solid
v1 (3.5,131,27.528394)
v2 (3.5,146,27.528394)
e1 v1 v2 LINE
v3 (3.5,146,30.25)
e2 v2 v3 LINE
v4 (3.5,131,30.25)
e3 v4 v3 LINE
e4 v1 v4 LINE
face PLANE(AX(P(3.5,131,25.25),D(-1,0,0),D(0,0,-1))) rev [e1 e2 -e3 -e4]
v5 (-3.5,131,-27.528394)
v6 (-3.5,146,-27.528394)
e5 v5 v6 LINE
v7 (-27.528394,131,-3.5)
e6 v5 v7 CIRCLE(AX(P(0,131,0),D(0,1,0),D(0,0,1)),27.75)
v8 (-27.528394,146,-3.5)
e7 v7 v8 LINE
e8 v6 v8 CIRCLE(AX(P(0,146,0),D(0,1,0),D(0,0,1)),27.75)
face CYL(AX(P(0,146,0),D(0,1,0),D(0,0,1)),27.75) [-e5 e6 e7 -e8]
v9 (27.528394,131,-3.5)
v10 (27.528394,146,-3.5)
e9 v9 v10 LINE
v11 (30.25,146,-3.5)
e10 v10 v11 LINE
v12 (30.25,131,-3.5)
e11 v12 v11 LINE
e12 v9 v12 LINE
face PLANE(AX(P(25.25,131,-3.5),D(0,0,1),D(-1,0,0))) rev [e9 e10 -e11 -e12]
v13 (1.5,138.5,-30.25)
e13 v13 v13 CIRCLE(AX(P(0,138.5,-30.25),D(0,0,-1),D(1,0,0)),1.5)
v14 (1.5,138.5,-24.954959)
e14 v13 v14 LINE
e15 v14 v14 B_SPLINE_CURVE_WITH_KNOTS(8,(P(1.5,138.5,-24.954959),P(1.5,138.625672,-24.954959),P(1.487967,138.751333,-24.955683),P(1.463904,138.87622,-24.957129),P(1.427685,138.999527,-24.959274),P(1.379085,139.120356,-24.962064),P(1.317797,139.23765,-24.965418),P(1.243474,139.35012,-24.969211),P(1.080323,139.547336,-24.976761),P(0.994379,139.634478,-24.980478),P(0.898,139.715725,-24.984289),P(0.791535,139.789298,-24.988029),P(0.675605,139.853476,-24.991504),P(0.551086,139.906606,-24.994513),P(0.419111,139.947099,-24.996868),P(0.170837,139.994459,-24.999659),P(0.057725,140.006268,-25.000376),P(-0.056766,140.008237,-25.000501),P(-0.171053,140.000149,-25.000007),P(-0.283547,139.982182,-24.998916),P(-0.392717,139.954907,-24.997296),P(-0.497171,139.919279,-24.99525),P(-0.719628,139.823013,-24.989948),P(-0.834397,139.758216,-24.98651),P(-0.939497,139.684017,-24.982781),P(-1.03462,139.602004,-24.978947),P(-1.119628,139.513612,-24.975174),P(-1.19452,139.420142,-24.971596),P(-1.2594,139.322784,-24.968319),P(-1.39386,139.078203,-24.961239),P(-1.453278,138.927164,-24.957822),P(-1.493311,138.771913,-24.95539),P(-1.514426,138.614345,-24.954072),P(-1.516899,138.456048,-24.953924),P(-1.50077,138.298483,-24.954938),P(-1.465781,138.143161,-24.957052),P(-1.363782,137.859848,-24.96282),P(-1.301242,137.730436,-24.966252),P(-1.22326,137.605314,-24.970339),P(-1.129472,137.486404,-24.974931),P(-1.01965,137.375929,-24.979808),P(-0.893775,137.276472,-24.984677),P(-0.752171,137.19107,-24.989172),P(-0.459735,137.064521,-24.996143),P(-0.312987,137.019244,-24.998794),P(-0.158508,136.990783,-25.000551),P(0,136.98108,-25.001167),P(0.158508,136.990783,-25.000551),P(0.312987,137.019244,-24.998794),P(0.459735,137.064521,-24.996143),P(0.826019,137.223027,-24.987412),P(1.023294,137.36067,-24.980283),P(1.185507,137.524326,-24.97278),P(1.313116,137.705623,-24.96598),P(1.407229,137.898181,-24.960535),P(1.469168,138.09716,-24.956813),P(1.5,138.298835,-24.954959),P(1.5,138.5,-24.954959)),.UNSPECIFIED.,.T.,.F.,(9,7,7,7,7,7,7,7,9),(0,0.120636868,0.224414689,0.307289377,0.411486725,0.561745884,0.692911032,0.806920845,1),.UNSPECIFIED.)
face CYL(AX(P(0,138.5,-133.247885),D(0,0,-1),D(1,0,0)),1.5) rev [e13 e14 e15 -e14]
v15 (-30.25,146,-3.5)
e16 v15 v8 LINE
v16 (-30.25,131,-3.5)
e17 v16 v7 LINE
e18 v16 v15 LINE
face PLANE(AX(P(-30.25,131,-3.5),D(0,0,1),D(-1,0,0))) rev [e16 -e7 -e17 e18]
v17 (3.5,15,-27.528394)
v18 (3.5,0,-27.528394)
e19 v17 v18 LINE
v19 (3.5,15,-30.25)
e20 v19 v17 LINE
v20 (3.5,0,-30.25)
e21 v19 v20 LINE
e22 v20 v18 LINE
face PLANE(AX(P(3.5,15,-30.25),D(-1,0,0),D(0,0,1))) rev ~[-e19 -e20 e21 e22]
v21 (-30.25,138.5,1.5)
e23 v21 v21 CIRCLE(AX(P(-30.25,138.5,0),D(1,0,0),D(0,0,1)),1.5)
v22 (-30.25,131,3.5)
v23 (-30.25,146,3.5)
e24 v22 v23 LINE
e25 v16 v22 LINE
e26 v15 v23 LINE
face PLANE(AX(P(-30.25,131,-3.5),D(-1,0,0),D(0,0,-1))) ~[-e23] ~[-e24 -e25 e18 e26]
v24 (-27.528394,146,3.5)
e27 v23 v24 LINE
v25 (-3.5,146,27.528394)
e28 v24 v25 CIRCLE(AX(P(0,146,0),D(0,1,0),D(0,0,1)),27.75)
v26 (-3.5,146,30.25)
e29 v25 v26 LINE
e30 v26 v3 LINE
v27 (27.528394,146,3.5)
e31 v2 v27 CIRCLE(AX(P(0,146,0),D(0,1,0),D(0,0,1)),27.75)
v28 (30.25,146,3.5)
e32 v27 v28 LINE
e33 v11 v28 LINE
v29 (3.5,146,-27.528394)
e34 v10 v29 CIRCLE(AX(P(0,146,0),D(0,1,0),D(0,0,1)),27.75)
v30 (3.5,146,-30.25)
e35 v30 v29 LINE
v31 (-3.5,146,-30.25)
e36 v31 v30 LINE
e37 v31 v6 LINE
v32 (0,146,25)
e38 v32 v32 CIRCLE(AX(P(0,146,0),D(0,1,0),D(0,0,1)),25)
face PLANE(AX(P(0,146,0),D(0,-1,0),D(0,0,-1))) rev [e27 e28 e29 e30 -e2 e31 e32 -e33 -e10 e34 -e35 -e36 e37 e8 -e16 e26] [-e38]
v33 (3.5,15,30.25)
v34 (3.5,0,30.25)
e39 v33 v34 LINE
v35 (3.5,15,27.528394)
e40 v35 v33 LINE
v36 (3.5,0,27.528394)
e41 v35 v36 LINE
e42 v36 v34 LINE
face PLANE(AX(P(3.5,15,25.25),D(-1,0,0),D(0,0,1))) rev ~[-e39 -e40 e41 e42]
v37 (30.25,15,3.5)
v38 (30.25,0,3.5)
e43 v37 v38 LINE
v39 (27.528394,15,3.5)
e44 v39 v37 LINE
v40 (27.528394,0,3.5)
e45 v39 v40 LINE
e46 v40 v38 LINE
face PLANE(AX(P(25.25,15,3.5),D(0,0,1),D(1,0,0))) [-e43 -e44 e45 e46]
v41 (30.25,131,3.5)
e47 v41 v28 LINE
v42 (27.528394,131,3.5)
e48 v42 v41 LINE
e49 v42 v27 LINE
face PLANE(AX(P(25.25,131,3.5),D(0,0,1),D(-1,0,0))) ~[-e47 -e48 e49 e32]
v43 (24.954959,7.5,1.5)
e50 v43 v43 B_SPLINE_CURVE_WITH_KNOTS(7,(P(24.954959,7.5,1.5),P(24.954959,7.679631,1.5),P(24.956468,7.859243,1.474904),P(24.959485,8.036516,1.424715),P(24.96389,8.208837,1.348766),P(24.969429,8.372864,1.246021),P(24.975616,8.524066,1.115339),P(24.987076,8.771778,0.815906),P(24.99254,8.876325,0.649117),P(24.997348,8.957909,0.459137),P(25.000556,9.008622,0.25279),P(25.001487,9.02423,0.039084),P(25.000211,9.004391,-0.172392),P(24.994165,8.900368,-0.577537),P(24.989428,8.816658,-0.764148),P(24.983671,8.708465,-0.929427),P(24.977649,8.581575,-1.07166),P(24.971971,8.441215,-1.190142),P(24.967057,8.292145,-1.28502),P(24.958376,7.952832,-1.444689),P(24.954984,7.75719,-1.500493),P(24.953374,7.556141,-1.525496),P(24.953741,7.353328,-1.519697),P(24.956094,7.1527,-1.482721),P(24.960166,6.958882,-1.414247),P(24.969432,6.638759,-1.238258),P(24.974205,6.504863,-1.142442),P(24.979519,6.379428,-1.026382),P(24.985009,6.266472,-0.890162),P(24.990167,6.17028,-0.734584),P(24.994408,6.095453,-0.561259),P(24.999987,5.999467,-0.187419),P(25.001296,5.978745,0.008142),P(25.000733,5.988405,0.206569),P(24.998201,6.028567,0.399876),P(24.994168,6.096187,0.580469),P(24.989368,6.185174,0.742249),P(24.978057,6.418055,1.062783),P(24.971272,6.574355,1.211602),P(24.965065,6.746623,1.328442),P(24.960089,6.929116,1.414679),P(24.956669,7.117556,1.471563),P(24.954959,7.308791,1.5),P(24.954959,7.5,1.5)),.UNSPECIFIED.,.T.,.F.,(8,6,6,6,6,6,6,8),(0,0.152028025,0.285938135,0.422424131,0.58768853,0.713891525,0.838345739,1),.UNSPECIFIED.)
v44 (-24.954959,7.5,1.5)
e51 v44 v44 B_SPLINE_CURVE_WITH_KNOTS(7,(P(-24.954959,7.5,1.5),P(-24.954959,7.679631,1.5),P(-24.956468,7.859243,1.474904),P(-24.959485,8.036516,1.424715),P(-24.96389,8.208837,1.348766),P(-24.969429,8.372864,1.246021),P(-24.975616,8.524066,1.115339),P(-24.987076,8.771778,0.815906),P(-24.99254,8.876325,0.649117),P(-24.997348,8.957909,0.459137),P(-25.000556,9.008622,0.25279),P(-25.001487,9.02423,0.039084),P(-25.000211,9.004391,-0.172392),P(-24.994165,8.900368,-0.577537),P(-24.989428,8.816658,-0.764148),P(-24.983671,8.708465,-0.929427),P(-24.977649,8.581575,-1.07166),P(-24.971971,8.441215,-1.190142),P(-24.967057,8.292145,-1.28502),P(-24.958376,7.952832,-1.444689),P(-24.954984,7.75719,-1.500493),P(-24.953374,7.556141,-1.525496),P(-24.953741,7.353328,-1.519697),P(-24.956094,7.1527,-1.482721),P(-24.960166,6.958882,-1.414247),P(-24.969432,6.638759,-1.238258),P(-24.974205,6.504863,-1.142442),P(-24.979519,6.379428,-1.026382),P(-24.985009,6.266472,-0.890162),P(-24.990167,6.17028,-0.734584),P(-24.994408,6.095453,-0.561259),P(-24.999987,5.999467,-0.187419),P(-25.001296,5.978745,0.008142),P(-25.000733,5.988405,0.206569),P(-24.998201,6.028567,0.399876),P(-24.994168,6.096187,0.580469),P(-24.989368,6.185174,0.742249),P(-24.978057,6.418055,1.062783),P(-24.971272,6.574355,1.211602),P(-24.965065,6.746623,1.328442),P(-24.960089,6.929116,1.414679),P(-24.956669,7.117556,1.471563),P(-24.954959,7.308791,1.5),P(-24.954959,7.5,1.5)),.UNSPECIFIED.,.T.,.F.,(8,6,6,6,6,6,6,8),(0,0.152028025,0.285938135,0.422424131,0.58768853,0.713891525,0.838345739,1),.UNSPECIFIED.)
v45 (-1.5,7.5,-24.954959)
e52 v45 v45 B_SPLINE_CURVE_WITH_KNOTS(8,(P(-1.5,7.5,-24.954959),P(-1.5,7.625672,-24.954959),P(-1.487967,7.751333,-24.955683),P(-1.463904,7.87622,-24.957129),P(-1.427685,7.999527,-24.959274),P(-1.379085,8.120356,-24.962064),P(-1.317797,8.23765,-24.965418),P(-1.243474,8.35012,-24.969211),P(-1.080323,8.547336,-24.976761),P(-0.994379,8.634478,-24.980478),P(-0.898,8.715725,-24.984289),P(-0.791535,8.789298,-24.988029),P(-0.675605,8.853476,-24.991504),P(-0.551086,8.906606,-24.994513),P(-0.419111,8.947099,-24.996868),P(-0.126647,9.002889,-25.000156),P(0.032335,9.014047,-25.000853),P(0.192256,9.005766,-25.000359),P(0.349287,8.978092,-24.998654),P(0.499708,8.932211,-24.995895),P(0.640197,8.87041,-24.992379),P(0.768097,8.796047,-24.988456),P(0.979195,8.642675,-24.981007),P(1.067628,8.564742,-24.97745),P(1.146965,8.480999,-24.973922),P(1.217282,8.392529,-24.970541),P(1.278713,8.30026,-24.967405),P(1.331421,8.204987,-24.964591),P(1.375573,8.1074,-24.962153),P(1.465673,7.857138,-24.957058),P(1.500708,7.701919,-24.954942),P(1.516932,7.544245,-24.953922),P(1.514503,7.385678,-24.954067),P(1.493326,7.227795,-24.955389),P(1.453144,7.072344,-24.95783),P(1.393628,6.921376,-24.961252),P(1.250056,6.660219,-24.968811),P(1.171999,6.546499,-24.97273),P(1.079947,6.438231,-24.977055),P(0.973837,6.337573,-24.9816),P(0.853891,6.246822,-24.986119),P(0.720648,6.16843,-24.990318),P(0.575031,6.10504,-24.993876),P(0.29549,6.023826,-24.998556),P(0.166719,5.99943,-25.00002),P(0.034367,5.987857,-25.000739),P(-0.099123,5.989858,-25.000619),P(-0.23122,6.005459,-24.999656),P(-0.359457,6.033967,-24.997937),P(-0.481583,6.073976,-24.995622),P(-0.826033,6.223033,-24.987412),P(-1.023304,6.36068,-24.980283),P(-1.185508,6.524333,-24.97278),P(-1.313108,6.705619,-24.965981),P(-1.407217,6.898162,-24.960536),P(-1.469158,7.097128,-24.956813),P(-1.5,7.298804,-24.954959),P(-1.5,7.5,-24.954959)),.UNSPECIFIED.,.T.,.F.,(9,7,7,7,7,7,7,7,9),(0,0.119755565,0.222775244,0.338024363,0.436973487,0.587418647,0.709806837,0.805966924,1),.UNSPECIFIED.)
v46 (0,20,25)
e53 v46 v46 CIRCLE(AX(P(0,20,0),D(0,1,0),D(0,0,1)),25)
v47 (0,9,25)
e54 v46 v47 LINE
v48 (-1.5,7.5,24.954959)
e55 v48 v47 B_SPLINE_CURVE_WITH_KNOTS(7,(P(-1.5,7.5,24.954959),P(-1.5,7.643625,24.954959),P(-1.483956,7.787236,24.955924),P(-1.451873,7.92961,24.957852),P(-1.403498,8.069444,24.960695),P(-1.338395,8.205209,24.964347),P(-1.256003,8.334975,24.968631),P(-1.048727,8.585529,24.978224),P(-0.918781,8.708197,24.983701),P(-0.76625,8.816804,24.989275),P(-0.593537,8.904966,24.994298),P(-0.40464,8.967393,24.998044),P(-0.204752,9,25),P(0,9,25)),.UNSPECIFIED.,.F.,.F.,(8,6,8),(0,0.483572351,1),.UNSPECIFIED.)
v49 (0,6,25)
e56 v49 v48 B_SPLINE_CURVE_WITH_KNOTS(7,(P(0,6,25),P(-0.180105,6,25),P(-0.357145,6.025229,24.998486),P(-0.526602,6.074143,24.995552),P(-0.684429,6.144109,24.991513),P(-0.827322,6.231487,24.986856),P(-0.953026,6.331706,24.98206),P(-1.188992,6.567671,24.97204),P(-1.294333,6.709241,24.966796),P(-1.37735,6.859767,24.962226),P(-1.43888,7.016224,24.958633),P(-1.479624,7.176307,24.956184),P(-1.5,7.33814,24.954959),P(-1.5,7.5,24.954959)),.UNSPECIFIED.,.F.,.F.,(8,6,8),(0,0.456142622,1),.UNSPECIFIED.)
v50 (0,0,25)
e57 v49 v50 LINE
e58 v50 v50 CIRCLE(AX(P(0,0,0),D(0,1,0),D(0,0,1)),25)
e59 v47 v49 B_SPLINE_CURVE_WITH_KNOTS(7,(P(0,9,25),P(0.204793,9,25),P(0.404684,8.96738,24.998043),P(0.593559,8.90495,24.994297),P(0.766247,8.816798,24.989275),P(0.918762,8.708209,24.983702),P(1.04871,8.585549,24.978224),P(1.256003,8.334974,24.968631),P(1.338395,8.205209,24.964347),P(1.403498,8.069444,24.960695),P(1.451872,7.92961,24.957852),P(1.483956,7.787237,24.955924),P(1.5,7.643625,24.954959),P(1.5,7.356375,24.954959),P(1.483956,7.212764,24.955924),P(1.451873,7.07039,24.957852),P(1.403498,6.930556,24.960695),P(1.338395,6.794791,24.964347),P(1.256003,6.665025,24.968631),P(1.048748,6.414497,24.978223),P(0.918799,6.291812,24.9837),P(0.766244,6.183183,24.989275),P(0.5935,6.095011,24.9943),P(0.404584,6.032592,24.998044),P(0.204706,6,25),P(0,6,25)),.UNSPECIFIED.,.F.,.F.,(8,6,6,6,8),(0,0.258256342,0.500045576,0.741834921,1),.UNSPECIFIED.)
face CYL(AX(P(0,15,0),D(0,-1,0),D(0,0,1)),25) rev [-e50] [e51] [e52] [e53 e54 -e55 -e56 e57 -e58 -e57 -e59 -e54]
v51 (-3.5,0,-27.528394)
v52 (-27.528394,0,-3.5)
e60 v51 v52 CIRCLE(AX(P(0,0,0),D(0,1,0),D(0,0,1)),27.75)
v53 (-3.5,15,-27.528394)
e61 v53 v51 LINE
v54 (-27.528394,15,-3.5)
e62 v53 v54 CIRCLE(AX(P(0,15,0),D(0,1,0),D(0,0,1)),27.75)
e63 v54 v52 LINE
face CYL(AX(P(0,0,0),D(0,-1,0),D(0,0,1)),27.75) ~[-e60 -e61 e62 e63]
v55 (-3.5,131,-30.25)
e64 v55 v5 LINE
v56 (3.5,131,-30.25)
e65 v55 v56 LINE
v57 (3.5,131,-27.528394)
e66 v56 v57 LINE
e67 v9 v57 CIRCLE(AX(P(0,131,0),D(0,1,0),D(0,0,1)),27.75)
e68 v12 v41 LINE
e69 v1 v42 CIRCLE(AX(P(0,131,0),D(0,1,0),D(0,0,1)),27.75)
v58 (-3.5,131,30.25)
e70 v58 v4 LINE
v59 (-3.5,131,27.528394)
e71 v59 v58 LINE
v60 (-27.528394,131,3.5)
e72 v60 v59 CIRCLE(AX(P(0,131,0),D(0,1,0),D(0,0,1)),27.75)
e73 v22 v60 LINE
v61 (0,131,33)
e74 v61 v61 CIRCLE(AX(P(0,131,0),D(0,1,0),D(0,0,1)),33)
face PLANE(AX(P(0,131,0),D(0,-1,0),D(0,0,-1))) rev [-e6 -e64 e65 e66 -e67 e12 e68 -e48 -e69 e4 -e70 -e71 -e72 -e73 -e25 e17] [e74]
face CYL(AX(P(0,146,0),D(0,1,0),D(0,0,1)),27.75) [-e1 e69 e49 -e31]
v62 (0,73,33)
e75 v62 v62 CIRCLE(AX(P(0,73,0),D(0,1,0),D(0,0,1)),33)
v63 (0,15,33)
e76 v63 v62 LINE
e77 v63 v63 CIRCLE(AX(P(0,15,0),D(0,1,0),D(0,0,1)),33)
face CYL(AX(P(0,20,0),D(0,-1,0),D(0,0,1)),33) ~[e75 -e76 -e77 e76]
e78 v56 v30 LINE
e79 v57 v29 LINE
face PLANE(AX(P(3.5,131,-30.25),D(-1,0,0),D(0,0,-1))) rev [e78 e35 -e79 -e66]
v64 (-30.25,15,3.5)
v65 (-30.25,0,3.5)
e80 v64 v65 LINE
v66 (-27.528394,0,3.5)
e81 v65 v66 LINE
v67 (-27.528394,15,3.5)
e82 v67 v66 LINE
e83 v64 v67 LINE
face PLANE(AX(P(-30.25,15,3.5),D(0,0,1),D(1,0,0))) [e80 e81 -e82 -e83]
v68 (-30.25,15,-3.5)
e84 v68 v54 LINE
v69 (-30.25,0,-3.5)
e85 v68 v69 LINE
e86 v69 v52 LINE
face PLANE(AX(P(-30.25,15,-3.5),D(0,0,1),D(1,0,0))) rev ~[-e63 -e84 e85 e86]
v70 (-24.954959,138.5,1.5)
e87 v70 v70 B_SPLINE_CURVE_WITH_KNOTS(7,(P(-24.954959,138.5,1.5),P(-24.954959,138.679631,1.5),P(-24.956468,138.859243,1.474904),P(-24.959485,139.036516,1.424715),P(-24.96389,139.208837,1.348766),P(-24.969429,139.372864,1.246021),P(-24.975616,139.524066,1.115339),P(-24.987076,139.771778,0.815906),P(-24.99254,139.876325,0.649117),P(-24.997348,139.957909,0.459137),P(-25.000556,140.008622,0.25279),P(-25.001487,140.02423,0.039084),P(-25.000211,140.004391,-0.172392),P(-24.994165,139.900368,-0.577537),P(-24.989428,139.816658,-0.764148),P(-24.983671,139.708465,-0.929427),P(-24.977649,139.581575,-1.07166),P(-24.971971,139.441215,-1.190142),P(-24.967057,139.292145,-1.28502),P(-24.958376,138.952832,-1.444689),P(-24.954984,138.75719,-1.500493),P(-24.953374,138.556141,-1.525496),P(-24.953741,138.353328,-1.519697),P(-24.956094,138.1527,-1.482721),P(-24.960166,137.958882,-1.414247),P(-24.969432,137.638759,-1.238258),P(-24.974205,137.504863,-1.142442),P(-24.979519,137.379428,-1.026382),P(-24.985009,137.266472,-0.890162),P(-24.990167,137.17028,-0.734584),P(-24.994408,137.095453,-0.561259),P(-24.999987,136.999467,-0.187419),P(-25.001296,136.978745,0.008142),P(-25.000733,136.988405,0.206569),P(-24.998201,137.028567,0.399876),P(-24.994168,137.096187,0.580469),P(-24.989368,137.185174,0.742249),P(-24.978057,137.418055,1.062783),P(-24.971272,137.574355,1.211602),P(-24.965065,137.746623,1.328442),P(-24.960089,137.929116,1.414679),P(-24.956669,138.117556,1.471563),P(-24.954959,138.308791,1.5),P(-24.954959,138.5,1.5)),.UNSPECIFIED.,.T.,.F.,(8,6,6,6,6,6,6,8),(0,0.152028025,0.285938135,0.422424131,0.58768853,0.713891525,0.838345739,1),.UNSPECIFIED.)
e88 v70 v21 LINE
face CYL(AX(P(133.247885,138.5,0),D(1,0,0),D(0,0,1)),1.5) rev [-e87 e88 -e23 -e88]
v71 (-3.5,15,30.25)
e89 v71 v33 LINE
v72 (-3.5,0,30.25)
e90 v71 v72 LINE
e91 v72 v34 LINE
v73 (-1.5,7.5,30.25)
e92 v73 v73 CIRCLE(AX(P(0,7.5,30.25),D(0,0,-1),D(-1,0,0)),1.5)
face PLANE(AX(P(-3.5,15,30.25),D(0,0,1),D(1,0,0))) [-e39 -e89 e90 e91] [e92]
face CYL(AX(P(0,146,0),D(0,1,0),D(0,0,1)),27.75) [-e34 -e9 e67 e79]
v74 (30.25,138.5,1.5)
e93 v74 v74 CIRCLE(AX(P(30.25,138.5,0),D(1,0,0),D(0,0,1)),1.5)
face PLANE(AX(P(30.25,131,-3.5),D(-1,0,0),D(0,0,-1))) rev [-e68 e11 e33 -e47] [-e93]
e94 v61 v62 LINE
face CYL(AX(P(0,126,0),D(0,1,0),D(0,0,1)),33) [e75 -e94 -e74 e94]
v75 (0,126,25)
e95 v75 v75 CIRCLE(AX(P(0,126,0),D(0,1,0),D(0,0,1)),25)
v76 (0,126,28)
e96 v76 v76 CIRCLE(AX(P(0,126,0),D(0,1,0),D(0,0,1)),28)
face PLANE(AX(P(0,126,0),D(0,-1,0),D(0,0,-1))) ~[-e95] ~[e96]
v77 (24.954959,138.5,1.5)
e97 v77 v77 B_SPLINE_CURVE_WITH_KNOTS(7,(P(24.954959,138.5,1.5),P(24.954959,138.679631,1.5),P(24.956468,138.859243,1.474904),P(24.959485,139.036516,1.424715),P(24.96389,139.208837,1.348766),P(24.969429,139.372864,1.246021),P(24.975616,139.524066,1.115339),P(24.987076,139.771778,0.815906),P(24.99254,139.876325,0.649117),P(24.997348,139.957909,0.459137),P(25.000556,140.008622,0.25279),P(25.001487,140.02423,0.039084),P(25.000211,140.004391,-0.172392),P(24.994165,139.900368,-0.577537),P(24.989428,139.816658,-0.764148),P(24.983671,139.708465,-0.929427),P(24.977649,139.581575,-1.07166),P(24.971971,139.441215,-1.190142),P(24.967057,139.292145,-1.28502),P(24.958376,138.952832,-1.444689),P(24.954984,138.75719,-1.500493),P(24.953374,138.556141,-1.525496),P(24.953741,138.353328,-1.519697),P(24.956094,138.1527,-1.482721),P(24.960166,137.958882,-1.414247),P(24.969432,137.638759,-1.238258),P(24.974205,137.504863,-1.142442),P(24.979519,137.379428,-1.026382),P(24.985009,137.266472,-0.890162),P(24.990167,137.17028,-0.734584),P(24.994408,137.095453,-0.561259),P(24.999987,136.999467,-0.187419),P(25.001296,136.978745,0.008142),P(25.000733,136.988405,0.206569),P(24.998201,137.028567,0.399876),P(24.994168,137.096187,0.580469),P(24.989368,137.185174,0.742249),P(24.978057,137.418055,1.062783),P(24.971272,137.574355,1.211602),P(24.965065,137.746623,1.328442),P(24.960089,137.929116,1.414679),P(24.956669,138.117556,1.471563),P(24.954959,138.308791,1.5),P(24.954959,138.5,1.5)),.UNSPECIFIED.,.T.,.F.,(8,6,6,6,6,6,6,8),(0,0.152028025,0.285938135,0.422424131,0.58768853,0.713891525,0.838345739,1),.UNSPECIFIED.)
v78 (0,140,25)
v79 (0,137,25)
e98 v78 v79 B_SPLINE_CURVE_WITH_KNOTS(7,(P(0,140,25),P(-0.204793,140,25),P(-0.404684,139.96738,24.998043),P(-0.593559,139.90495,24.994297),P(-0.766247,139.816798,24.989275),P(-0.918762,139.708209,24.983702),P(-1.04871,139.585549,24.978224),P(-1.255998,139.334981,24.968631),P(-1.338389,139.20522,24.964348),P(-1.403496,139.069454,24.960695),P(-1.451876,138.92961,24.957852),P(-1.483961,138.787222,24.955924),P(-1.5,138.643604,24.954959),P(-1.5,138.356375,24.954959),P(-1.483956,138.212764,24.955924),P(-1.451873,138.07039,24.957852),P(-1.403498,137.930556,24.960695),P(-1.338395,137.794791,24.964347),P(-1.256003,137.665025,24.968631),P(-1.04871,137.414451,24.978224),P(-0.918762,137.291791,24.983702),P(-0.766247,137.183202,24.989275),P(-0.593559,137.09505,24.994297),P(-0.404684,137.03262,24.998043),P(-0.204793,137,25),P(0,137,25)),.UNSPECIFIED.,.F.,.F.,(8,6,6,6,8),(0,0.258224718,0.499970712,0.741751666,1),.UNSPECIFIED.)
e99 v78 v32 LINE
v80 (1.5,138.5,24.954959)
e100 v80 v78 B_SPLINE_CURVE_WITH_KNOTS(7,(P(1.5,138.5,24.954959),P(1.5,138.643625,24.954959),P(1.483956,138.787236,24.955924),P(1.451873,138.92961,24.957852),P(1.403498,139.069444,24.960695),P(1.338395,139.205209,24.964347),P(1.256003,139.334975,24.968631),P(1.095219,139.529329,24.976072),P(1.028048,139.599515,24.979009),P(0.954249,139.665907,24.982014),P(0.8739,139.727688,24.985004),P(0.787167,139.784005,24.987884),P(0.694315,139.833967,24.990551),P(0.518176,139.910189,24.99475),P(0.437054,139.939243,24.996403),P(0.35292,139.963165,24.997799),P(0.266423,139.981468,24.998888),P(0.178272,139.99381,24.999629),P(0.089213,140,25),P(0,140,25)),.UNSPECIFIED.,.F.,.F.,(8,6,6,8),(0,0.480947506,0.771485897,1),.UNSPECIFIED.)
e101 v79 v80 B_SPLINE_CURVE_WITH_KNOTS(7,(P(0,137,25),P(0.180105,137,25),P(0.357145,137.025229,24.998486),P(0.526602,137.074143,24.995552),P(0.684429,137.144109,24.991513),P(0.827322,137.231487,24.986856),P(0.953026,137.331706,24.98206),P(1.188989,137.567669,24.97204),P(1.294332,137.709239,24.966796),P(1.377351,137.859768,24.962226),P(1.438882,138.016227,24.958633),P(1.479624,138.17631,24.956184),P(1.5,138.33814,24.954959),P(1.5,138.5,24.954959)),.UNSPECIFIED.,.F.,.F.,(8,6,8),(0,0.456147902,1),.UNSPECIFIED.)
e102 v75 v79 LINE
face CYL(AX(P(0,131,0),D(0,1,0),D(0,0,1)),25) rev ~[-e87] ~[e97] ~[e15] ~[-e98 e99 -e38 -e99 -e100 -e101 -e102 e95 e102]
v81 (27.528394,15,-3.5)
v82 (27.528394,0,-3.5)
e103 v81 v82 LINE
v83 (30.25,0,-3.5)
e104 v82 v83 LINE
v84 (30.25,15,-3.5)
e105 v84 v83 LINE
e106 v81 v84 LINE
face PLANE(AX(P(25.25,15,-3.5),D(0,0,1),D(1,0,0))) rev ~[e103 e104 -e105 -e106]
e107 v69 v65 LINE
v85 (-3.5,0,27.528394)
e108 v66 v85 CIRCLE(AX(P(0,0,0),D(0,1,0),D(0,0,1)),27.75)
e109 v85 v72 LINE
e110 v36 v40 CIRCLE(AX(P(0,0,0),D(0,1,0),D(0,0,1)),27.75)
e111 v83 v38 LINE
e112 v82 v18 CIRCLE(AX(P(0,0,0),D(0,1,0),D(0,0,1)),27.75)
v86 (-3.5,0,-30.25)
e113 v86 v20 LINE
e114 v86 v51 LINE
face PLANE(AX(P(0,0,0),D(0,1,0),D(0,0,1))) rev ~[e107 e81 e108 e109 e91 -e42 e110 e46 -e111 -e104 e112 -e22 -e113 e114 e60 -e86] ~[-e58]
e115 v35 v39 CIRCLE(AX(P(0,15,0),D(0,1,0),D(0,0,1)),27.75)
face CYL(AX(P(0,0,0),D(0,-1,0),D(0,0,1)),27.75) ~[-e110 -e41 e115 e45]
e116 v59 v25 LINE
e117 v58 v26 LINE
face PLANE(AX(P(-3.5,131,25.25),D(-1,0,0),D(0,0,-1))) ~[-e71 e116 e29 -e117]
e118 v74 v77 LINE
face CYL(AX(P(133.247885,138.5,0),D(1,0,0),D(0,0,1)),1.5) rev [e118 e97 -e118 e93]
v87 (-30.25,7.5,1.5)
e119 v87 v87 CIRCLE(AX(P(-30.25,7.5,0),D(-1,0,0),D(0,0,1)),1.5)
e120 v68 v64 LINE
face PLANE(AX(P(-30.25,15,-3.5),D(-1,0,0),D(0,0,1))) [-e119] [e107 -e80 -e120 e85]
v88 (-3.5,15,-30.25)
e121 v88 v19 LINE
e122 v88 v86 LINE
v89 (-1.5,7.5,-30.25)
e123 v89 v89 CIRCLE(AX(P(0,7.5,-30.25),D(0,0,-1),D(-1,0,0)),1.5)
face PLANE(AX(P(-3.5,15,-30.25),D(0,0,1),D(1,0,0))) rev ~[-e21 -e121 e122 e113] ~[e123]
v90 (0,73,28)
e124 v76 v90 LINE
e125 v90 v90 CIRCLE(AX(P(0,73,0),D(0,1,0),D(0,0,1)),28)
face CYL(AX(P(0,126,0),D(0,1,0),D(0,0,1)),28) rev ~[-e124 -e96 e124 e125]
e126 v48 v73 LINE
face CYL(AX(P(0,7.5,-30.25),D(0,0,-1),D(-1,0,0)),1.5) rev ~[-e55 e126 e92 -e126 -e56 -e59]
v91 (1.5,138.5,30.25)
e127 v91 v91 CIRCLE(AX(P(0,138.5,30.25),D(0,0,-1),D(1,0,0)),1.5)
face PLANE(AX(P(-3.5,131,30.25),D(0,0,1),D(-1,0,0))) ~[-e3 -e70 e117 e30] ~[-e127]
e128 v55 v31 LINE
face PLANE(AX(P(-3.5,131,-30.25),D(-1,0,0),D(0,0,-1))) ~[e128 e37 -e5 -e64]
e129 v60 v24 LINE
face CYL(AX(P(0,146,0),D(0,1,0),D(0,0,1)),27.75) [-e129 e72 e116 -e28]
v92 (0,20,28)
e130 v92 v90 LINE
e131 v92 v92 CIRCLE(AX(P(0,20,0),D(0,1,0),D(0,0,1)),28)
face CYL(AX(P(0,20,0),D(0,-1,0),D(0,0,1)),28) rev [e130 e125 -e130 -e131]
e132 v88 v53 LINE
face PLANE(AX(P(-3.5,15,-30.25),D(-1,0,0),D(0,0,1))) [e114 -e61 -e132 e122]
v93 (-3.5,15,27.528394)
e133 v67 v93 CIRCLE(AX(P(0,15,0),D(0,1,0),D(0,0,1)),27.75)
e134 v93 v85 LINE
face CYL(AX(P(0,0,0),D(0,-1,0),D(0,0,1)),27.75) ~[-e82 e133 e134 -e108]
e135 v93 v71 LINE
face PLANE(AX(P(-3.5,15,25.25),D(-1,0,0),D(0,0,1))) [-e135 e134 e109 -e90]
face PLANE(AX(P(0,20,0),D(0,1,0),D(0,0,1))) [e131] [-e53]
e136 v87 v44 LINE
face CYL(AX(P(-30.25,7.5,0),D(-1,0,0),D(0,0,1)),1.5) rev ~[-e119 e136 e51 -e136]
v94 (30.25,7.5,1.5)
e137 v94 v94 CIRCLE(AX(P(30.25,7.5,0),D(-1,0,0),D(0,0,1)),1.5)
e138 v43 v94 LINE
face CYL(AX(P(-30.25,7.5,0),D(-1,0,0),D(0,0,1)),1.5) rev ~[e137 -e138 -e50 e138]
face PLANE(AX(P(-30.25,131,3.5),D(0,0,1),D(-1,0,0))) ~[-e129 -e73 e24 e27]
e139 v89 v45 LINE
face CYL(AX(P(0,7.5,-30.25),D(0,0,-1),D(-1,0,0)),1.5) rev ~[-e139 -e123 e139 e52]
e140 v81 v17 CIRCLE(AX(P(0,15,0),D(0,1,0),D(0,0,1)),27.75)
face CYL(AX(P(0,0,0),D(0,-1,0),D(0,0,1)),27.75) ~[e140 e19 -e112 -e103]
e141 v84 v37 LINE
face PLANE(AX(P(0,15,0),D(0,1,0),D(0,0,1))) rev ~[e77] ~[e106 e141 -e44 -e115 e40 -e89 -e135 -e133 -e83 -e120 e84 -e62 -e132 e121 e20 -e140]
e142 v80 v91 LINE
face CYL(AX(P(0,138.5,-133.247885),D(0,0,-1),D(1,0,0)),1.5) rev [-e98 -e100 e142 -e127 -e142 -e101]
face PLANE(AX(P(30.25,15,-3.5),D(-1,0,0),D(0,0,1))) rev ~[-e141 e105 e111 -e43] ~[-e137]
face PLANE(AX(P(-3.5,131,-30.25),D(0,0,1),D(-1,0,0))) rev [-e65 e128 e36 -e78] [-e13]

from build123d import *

# Parameters (mm, degrees)
CROQUIS3_R                 = 27.75
CROQUIS3_R_2               = 25
SALIENTE_EXTRUIR1_DEPTH    = 15
CROQUIS4_R                 = 33
CROQUIS4_R_2               = 25
SALIENTE_EXTRUIR2_DEPTH    = 5
CROQUIS5_R                 = 33
CROQUIS5_R_2               = 28
SALIENTE_EXTRUIR3_DEPTH    = 53
CROQUIS6_W                 = 5
CROQUIS6_H                 = 7
CROQUIS6_W_2               = 7
CROQUIS6_H_2               = 5
SALIENTE_EXTRUIR4_DEPTH    = 15
CROQUIS7_R                 = 1.5
CORTAR_EXTRUIR1_DEPTH      = 163.497884602
CROQUIS8_R                 = 1.5
CORTAR_EXTRUIR2_DEPTH      = 163.497884602
CORTAR_EXTRUIR3_DEPTH      = 163.497884602
CORTAR_EXTRUIR3_DEPTH_BACK = 163.497884602
CROQUIS9_R                 = 1.5
CORTAR_EXTRUIR4_DEPTH      = 163.497884691
CORTAR_EXTRUIR4_DEPTH_BACK = 163.497884691
CROQUIS10_R                = 1.5


with BuildPart() as part:
    # Croquis3 → Saliente-Extruir1 (new body)
    with BuildSketch(Plane(origin=(0, 0, 0), x_dir=(1, 0, 0), z_dir=(0, 1, 0))):
        with Locations(Location((0, 0, 0), (0, 0, 270))):
            Circle(CROQUIS3_R)
        with Locations(Location((0, 0, 0), (0, 0, 270))):
            Circle(CROQUIS3_R_2, mode=Mode.SUBTRACT)
    extrude(amount=SALIENTE_EXTRUIR1_DEPTH)

    # Croquis4 → Saliente-Extruir2 (add)
    with BuildSketch(Plane(origin=(0, 15, 0), x_dir=(1, 0, 0), z_dir=(0, 1, 0))):
        with Locations(Location((0, 0, 0), (0, 0, 270))):
            Circle(CROQUIS4_R)
        with Locations(Location((0, 0, 0), (0, 0, 270))):
            Circle(CROQUIS4_R_2, mode=Mode.SUBTRACT)
    extrude(amount=SALIENTE_EXTRUIR2_DEPTH)

    # Croquis5 → Saliente-Extruir3 (add)
    with BuildSketch(Plane(origin=(0, 20, 0), x_dir=(1, 0, 0), z_dir=(0, 1, 0))):
        with Locations(Location((0, 0, 0), (0, 0, 270))):
            Circle(CROQUIS5_R)
        with Locations(Location((0, 0, 0), (0, 0, 270))):
            Circle(CROQUIS5_R_2, mode=Mode.SUBTRACT)
    extrude(amount=SALIENTE_EXTRUIR3_DEPTH)

    # Croquis6 → Saliente-Extruir4 (add)
    with BuildSketch(Plane.XZ.offset(-15)):
        with Locations((27.75, 0)):
            Rectangle(CROQUIS6_W, CROQUIS6_H)
        with Locations((0, 27.75)):
            Rectangle(CROQUIS6_W_2, CROQUIS6_H_2)
        with Locations((0, -27.75)):
            Rectangle(CROQUIS6_W_2, CROQUIS6_H_2)
        with Locations((-27.75, 0)):
            Rectangle(CROQUIS6_W, CROQUIS6_H)
    extrude(amount=SALIENTE_EXTRUIR4_DEPTH)

    # Simetría2: part across plane


with BuildPart() as part_1:
    add(part.part)
    add(part.part.mirror(Plane.ZX.offset(73)))

    # Croquis7 → Cortar-Extruir1 (cut, through all)
    with BuildSketch(Plane.ZY.offset(30.25)):
        with Locations((0, 7.5)):
            Circle(CROQUIS7_R)
    extrude(amount=-CORTAR_EXTRUIR1_DEPTH, mode=Mode.SUBTRACT)

    # Croquis8 → Cortar-Extruir2 (cut, through all)
    with BuildSketch(Plane(origin=(0, 0, -30.25), x_dir=(-1, 0, 0), z_dir=(0, 0, -1))):
        with Locations((0, 7.5)):
            Circle(CROQUIS8_R)
    extrude(amount=-CORTAR_EXTRUIR2_DEPTH, mode=Mode.SUBTRACT)

    # Croquis9 → Cortar-Extruir3 (cut, two sides: drawn at the far end of the back side and taken through both)
    with BuildSketch(Plane.ZY.offset(30.25).offset(-CORTAR_EXTRUIR3_DEPTH_BACK)):
        with Locations((0, 138.5)):
            Circle(CROQUIS9_R)
    extrude(amount=CORTAR_EXTRUIR3_DEPTH + CORTAR_EXTRUIR3_DEPTH_BACK, mode=Mode.SUBTRACT)

    # Croquis10 → Cortar-Extruir4 (cut, two sides: drawn at the far end of the back side and taken through both)
    with BuildSketch(Plane.XY.offset(30.25).offset(-CORTAR_EXTRUIR4_DEPTH_BACK)):
        with Locations((0, 138.5)):
            Circle(CROQUIS10_R)
    extrude(amount=CORTAR_EXTRUIR4_DEPTH + CORTAR_EXTRUIR4_DEPTH_BACK, mode=Mode.SUBTRACT)


solid = part_1.part
